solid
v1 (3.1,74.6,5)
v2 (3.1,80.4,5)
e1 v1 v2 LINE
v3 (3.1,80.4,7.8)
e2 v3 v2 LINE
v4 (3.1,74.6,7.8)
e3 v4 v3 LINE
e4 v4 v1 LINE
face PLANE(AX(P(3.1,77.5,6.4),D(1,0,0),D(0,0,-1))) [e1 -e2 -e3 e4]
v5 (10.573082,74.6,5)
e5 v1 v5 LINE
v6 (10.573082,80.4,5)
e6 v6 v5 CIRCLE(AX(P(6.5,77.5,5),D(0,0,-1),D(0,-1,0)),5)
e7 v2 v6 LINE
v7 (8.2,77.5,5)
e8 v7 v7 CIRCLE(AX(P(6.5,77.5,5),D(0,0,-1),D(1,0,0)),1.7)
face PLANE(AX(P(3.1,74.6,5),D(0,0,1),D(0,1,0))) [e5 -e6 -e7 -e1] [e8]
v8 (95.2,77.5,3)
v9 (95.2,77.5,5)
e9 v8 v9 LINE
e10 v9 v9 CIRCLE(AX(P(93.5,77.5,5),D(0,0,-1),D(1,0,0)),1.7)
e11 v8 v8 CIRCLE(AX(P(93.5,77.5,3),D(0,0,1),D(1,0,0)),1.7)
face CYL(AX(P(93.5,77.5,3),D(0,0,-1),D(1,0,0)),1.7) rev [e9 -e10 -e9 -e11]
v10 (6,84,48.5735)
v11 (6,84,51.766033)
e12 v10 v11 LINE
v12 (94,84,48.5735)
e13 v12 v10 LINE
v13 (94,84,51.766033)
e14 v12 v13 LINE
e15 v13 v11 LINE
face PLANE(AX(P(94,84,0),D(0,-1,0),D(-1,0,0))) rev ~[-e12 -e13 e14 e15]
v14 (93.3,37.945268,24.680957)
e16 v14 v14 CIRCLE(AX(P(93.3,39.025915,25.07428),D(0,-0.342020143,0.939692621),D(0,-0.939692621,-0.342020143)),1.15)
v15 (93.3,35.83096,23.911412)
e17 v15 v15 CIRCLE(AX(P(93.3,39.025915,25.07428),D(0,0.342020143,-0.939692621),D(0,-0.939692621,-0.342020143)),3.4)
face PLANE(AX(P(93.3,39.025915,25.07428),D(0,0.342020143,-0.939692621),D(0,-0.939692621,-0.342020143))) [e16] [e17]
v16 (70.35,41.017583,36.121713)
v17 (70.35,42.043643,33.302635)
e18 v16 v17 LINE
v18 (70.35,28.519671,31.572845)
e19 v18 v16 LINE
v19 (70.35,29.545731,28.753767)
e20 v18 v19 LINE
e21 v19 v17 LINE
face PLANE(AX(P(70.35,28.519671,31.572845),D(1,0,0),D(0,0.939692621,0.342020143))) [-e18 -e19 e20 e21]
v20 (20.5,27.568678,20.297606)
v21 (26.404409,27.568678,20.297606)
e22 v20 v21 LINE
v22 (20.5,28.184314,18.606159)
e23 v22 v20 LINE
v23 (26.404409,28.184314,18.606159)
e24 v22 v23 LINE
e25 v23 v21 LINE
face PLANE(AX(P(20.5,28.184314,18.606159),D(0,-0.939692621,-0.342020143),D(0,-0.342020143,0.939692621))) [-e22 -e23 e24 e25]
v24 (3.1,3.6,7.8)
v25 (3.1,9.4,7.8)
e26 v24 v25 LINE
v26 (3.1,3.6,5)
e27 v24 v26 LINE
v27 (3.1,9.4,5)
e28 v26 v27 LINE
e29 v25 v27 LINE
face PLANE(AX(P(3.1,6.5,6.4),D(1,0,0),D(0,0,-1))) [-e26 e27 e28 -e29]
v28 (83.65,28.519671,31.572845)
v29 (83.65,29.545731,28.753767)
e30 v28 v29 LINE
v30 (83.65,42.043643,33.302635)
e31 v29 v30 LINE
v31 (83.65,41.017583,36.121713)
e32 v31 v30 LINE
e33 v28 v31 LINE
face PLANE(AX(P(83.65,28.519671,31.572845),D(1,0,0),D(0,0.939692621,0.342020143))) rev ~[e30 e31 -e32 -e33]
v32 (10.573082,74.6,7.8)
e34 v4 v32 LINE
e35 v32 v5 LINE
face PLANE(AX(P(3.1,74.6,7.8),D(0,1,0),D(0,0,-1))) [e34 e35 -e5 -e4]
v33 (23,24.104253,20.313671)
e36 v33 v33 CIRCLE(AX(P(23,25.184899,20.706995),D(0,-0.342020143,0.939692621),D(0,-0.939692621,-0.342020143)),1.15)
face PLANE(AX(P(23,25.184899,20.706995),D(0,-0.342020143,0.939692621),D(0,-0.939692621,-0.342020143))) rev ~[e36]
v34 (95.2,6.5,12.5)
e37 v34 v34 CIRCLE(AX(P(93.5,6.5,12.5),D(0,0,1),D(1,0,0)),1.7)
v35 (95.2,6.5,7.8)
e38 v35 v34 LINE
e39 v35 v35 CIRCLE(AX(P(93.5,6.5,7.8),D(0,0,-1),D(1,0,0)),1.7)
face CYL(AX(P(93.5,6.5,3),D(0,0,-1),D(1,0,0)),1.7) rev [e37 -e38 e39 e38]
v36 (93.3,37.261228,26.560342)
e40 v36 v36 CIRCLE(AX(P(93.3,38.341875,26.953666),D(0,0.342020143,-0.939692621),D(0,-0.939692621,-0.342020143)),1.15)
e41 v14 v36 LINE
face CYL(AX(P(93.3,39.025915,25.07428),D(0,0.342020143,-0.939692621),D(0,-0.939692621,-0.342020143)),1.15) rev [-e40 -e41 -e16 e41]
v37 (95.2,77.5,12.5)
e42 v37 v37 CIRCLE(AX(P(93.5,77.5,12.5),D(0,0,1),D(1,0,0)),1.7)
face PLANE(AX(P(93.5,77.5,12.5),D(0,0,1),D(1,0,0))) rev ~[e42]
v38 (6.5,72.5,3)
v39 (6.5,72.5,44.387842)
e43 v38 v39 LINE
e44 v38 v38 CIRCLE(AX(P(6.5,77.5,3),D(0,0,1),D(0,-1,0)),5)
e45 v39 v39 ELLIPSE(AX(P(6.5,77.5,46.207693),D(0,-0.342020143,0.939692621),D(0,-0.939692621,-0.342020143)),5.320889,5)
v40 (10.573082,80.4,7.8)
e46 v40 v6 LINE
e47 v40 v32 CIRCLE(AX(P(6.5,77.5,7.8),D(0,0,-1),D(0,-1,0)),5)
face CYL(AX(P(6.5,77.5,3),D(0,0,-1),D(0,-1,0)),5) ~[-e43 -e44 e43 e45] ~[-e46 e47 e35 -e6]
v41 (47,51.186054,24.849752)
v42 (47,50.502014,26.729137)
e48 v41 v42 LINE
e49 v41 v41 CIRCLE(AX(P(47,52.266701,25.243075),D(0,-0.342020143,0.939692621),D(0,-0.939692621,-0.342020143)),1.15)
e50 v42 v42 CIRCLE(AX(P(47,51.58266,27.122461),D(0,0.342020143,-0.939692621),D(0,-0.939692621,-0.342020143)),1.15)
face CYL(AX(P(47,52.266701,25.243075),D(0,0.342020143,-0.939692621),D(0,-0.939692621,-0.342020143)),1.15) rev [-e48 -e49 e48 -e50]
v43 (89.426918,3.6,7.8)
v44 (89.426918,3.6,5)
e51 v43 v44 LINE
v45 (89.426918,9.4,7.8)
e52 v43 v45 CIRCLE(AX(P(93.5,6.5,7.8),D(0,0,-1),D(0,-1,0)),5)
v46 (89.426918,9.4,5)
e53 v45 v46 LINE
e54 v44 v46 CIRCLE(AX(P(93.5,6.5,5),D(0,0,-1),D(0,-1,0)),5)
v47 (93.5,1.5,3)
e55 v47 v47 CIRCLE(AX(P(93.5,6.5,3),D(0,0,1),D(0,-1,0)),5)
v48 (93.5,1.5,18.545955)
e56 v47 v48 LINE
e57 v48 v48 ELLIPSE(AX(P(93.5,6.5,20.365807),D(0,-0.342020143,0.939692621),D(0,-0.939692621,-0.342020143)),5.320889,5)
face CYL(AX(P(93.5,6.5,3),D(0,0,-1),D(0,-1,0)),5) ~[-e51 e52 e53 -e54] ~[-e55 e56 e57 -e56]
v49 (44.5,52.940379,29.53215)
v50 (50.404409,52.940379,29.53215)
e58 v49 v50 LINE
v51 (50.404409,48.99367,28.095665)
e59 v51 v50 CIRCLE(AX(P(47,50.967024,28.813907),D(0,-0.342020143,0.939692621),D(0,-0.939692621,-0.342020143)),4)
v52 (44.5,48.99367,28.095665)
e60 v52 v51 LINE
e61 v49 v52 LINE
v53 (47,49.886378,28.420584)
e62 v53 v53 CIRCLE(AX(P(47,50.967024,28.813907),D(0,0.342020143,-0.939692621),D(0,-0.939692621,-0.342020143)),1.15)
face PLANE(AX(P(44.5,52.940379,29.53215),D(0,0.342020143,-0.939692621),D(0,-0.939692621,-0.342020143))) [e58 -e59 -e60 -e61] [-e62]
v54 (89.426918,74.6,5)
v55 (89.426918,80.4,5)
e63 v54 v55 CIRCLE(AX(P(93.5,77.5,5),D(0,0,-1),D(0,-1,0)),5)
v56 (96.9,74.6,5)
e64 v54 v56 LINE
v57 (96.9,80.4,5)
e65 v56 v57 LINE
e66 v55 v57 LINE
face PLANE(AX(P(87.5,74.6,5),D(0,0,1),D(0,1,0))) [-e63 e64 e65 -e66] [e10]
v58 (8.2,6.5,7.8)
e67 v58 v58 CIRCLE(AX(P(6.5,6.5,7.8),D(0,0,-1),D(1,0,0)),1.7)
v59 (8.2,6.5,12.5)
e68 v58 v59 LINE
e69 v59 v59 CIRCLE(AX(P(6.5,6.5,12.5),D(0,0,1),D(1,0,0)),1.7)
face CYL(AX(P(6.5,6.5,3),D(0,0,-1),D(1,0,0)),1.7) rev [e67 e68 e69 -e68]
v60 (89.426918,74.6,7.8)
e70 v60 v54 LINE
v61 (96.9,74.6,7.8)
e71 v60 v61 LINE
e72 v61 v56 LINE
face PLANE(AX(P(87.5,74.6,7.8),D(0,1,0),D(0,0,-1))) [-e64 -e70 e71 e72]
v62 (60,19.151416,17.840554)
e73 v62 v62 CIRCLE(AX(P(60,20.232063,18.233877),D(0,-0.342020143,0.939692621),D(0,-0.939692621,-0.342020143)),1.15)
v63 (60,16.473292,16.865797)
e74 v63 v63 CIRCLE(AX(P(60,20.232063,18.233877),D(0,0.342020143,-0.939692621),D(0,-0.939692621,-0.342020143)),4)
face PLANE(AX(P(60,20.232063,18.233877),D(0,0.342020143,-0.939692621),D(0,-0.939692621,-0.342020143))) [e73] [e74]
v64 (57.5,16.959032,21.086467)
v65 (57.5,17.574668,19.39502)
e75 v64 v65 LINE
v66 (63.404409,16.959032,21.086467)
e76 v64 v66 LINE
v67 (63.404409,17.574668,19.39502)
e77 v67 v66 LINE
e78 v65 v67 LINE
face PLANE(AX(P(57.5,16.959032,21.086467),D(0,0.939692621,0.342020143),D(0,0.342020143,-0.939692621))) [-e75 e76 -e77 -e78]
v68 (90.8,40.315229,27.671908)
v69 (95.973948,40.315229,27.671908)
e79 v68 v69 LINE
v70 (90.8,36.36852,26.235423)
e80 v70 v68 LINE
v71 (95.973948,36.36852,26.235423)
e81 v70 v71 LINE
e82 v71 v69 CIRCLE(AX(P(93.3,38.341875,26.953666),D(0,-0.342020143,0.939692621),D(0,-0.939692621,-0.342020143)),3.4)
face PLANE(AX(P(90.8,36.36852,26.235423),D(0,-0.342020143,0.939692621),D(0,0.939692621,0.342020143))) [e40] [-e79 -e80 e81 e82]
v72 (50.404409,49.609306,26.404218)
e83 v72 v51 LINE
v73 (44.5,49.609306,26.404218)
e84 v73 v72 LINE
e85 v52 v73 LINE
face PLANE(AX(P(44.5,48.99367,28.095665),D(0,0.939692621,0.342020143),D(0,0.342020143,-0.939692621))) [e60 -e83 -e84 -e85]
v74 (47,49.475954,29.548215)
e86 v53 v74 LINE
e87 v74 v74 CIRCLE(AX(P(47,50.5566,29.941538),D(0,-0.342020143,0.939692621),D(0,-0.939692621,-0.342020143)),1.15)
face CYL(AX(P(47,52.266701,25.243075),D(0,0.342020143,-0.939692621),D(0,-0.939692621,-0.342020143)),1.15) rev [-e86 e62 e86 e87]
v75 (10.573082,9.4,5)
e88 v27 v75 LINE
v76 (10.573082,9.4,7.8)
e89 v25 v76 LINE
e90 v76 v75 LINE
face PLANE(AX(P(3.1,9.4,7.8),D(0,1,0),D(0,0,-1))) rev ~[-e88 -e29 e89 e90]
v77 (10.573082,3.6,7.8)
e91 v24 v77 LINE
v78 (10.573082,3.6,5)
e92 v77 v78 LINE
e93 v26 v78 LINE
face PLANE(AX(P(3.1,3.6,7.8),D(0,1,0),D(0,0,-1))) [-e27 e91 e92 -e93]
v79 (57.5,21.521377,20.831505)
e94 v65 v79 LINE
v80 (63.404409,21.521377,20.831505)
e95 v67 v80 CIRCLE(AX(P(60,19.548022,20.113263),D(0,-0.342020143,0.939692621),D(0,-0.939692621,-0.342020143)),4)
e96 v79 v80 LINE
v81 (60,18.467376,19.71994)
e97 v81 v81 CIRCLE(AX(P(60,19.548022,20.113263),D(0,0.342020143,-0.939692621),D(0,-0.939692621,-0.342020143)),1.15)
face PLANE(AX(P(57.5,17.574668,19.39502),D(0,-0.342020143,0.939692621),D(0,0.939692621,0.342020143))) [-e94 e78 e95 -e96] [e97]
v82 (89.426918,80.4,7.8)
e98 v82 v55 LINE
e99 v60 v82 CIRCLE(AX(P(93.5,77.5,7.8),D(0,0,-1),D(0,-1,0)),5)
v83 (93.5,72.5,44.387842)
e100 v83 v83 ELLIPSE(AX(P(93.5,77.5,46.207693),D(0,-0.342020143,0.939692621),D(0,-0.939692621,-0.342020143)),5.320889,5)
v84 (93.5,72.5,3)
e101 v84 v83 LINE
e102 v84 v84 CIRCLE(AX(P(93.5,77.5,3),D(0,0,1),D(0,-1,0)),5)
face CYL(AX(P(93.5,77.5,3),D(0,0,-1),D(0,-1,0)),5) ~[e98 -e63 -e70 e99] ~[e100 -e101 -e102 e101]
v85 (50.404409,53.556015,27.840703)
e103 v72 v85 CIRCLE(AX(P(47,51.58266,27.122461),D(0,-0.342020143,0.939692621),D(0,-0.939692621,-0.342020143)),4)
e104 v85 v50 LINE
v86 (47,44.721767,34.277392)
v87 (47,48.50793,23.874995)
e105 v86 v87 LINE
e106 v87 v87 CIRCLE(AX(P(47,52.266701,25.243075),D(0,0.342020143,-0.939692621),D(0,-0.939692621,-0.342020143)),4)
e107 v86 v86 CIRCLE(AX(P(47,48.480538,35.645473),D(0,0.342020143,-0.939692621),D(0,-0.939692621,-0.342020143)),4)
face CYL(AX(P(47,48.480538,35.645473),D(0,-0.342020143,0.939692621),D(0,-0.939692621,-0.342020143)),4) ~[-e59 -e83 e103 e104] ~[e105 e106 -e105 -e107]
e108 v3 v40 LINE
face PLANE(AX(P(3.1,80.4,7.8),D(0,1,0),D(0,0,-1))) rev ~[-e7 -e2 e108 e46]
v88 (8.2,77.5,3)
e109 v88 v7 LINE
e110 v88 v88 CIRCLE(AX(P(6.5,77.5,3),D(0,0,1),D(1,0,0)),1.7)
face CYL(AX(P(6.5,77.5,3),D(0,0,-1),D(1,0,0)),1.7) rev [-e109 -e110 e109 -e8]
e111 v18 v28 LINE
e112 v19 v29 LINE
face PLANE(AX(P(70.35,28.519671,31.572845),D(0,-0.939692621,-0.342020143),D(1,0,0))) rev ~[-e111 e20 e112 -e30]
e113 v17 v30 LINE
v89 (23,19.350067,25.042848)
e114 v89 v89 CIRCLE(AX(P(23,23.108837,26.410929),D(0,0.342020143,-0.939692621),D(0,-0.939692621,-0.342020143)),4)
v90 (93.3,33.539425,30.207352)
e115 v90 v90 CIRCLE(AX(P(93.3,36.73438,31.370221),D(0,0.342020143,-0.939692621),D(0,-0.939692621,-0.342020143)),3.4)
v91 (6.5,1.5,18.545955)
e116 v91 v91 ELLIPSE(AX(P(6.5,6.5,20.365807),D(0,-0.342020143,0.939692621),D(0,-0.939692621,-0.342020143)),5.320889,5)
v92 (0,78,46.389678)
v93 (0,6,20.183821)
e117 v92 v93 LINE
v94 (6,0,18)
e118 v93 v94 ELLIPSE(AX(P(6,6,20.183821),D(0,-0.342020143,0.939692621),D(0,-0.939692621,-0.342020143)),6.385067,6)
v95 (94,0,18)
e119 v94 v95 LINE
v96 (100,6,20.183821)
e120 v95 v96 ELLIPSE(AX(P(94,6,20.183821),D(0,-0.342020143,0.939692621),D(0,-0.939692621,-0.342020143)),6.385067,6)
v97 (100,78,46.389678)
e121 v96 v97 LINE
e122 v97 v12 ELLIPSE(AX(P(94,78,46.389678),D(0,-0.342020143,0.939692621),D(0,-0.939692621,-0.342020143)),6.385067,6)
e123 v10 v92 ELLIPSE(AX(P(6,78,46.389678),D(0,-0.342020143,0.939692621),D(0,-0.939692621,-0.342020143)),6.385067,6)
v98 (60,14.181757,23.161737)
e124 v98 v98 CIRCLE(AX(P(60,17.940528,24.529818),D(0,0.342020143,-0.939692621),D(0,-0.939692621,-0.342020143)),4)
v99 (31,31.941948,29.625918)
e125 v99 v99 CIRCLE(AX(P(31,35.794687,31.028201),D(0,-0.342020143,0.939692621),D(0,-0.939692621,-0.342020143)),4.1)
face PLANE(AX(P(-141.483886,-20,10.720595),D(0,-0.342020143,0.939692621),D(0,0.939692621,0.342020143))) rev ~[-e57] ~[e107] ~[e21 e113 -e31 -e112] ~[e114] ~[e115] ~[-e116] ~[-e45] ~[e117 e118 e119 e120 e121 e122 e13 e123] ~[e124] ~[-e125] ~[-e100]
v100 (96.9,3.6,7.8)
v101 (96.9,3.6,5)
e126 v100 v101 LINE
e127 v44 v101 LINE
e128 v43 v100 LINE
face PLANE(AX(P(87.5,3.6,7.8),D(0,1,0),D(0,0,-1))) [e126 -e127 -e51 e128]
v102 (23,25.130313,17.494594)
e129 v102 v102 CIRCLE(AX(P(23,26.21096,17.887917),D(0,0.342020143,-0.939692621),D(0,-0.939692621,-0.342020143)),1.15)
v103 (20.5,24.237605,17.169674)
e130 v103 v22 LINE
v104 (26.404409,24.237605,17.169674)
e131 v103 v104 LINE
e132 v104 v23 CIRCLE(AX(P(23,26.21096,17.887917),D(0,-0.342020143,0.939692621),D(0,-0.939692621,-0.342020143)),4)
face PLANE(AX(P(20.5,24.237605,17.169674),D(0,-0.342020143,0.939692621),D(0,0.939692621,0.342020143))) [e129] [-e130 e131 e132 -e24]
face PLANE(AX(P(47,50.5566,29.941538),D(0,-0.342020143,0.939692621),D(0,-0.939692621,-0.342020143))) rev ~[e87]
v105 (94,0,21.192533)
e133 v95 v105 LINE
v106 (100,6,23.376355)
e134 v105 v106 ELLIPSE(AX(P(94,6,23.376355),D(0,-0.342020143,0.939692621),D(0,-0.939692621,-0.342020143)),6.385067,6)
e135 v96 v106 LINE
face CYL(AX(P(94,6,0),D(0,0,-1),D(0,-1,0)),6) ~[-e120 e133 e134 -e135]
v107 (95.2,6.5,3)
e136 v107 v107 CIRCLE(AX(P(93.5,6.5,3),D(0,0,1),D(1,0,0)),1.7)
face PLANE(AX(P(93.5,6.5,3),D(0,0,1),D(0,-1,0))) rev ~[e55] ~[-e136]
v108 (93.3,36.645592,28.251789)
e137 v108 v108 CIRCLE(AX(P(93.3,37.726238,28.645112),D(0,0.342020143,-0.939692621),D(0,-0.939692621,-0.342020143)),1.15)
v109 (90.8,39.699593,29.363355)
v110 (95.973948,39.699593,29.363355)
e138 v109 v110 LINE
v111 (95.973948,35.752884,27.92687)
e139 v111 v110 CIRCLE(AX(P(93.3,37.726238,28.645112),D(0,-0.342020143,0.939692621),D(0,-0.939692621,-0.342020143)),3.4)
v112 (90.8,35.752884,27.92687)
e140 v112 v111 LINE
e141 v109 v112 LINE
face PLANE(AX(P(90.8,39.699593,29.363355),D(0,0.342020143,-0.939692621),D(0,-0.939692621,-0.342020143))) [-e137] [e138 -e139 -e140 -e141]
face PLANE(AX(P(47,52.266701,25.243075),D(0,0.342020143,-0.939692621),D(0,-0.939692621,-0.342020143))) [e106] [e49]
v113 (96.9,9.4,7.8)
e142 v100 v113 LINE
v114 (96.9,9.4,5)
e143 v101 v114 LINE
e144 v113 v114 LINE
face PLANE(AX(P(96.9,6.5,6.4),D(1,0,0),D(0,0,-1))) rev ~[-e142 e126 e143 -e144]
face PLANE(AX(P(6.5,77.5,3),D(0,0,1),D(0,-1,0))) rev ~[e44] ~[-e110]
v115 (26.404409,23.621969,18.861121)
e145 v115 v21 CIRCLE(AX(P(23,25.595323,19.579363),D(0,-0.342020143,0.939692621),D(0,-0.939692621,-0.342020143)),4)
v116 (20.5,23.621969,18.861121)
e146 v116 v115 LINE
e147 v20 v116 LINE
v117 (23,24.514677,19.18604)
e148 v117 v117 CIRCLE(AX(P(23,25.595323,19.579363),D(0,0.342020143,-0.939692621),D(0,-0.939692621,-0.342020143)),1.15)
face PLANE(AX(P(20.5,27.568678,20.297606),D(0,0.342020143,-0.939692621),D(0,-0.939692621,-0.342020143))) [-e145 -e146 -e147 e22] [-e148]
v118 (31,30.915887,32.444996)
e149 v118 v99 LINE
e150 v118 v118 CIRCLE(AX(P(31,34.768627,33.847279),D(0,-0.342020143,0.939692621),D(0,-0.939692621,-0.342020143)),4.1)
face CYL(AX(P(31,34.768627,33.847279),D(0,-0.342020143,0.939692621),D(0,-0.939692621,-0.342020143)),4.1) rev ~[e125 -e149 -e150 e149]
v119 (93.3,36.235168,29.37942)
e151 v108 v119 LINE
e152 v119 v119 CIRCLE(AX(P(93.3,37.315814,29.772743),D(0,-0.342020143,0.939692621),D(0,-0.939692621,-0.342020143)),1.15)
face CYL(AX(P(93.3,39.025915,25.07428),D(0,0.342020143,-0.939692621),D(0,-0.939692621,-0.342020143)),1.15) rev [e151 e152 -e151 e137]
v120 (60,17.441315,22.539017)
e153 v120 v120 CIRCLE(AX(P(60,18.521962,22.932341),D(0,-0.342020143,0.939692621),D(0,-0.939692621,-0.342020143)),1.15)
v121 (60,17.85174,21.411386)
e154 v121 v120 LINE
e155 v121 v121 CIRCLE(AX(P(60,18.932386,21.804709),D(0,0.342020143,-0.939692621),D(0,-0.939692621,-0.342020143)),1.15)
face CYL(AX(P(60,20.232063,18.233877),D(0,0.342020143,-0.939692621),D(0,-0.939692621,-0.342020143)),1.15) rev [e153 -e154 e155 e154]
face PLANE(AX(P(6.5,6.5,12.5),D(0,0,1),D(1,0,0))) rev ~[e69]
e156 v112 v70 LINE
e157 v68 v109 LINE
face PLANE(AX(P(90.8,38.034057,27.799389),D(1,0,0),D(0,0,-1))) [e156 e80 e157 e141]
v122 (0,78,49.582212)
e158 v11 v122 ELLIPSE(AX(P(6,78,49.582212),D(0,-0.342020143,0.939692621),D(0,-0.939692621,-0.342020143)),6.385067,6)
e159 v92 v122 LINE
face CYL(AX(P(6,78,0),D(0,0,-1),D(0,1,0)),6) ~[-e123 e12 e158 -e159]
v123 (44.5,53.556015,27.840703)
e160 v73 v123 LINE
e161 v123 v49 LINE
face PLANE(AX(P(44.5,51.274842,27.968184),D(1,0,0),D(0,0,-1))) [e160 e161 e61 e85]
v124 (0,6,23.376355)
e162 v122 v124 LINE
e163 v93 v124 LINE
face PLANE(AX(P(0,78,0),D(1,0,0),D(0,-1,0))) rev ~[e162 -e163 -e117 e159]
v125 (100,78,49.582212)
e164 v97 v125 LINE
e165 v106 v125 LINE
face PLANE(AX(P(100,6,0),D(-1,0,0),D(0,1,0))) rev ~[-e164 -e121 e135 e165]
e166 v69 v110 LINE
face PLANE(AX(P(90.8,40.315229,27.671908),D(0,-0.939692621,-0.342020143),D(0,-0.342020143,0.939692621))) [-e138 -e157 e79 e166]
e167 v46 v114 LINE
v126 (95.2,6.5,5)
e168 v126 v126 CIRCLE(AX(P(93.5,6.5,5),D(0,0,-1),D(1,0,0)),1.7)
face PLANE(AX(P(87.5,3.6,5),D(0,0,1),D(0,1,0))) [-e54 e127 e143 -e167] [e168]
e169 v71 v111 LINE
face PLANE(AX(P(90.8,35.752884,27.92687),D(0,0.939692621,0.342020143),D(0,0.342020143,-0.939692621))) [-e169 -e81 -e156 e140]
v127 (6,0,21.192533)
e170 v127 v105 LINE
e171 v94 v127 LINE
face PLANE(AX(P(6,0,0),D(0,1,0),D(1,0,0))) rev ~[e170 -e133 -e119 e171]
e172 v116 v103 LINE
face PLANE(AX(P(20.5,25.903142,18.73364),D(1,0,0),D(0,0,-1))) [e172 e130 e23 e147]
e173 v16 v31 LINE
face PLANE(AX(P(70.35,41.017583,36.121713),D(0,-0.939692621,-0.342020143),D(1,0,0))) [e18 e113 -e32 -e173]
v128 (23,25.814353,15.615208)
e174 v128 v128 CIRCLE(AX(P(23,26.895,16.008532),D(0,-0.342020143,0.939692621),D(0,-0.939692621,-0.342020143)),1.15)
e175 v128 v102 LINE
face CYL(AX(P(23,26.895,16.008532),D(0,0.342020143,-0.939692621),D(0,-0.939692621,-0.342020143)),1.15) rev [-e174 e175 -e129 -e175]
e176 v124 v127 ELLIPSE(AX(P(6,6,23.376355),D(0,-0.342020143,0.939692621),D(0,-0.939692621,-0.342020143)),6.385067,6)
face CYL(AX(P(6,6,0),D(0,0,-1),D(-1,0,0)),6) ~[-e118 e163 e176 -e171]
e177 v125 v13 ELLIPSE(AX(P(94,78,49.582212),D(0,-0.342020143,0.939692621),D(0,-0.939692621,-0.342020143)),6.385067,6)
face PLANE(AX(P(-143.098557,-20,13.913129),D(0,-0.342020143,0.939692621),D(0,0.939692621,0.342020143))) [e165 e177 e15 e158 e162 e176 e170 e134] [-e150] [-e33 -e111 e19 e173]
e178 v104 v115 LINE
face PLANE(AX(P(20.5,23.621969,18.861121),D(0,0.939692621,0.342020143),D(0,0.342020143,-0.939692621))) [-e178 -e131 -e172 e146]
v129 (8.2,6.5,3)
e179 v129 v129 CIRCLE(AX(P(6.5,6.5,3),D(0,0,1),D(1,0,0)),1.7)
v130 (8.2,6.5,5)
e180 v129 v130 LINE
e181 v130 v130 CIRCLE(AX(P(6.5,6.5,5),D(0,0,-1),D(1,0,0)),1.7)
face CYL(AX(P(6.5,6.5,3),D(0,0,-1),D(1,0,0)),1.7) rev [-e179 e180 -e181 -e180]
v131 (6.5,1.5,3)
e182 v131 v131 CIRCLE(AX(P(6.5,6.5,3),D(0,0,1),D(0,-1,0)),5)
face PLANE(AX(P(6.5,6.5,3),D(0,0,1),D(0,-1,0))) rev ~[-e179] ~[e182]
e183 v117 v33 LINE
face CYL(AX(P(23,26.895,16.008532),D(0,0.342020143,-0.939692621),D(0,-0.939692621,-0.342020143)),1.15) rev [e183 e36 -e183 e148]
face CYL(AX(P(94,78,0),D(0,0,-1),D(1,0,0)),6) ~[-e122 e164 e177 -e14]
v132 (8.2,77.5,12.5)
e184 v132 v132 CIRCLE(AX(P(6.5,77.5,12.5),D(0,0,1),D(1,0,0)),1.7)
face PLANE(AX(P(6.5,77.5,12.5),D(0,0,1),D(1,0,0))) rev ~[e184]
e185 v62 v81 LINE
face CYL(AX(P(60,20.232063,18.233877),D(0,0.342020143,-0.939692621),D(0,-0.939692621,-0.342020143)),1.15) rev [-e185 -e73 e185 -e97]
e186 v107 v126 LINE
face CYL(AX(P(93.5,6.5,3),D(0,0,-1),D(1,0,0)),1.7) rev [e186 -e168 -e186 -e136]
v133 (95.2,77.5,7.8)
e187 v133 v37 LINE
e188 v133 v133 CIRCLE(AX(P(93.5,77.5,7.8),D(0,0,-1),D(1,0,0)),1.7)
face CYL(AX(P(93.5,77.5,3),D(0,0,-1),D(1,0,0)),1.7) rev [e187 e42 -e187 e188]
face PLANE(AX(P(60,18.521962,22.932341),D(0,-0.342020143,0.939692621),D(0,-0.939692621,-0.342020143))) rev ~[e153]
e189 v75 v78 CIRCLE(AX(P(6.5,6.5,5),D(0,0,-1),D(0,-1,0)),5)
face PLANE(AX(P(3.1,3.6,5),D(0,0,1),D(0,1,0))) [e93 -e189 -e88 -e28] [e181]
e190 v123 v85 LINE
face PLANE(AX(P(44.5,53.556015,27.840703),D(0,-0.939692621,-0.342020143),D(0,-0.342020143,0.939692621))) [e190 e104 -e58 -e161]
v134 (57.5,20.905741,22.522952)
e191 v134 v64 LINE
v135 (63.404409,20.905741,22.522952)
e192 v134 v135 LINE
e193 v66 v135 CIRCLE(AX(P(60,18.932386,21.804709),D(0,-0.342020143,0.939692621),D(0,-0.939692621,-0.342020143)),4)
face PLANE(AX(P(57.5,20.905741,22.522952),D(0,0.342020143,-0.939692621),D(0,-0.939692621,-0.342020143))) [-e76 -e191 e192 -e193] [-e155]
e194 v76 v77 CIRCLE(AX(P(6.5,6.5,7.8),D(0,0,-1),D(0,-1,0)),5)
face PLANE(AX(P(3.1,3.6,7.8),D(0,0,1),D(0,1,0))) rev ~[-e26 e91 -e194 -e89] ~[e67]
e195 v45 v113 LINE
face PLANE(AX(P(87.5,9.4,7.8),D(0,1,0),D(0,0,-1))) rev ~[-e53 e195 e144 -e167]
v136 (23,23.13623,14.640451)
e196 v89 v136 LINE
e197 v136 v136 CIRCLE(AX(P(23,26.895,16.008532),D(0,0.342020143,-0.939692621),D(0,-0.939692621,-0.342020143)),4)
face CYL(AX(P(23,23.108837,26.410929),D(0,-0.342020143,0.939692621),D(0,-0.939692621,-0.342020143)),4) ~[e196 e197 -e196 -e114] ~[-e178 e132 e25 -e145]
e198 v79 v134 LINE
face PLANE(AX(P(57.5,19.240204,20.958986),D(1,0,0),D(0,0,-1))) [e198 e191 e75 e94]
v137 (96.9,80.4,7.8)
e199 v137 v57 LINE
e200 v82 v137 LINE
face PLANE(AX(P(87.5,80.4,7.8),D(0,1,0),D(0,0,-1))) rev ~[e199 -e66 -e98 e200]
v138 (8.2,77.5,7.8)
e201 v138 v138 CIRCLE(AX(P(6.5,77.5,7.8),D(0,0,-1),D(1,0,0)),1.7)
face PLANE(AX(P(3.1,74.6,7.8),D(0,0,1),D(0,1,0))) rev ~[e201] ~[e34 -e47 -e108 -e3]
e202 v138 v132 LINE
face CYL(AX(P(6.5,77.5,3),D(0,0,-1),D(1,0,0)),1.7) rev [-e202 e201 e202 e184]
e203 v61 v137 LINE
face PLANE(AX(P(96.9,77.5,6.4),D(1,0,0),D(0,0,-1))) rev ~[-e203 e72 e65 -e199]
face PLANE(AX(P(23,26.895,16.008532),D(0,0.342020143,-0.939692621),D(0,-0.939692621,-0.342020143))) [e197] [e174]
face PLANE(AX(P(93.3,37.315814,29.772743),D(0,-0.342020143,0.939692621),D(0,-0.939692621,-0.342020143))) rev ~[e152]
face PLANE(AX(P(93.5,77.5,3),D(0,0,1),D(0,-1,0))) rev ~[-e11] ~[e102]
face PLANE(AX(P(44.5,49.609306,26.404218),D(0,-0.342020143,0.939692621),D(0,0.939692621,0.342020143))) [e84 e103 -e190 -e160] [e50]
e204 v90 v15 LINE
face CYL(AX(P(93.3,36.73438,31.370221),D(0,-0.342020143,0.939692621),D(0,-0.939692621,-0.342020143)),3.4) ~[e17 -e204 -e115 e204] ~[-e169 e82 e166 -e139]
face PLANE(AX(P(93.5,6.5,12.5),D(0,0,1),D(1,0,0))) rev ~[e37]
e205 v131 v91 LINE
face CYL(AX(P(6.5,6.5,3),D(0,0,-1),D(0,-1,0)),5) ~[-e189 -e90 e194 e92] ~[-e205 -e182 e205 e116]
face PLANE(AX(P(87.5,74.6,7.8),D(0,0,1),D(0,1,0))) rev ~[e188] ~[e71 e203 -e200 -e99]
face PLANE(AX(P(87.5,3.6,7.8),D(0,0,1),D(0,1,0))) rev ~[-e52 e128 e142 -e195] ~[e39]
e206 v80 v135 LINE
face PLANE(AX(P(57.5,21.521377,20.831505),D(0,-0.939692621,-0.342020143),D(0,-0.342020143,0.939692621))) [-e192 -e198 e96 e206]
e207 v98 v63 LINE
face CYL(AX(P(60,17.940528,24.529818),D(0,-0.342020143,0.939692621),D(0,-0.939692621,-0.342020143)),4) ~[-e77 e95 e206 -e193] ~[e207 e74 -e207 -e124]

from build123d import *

# Parameters (mm, degrees)
LID_BLANK_DEPTH                 = 56
OUTER_PANEL_20DEG_DEPTH         = 143.098557347
OUTER_PANEL_20DEG_DEPTH_BACK    = 143.098557347
PANEL_3MM_DEPTH                 = 141.483885809
PANEL_3MM_DEPTH_BACK            = 141.483885809
HIDDEN_CASE_POST_0_START        = 3
SKETCH_4_R                      = 5
HIDDEN_CASE_POST_0_DEPTH        = 22.878191011
HIDDEN_CASE_POST_1_START        = 3
SKETCH_5_R                      = 5
HIDDEN_CASE_POST_1_DEPTH        = 22.878191011
HIDDEN_CASE_POST_2_START        = 3
SKETCH_6_R                      = 5
HIDDEN_CASE_POST_2_DEPTH        = 48.720077644
HIDDEN_CASE_POST_3_START        = 3
SKETCH_7_R                      = 5
HIDDEN_CASE_POST_3_DEPTH        = 48.720077644
FLUSH_OUTER_SURFACE_DEPTH       = 141.483885809
FLUSH_OUTER_SURFACE_DEPTH_BACK  = 141.483885809
BLIND_M3_0_START                = 3
SKETCH_9_R                      = 1.7
BLIND_M3_0_DEPTH                = 9.5
M3_SIDE_LOAD_NUT_0_START        = 3.1
SKETCH_10_W                     = 2.8
SKETCH_10_H                     = 5.8
M3_SIDE_LOAD_NUT_0_DEPTH        = 9.4
BLIND_M3_1_START                = 3
SKETCH_11_R                     = 1.7
BLIND_M3_1_DEPTH                = 9.5
M3_SIDE_LOAD_NUT_1_START        = 87.5
SKETCH_12_W                     = 2.8
SKETCH_12_H                     = 5.8
M3_SIDE_LOAD_NUT_1_DEPTH        = 9.4
BLIND_M3_2_START                = 3
SKETCH_13_R                     = 1.7
BLIND_M3_2_DEPTH                = 9.5
M3_SIDE_LOAD_NUT_2_START        = 3.1
SKETCH_14_W                     = 2.8
SKETCH_14_H                     = 5.8
M3_SIDE_LOAD_NUT_2_DEPTH        = 9.4
BLIND_M3_3_START                = 3
SKETCH_15_R                     = 1.7
BLIND_M3_3_DEPTH                = 9.5
M3_SIDE_LOAD_NUT_3_START        = 87.5
SKETCH_16_W                     = 2.8
SKETCH_16_H                     = 5.8
M3_SIDE_LOAD_NUT_3_DEPTH        = 9.4
SKETCH_17_R                     = 4.1
SHAFT_D8P2_DEPTH                = 5
SKETCH_18_W                     = 13.3
SKETCH_18_H                     = 13.3
BUTTON_13P3_CLEARANCE_DEPTH     = 5
SKETCH_19_R                     = 4
ENCODER_FRONT_BLIND_POST_DEPTH  = 11.07
ENCODER_FRONT_BLIND_SCREW_START = -14.07
SKETCH_20_R                     = 1.15
ENCODER_FRONT_BLIND_SCREW_DEPTH = 5
ENCODER_FRONT_M2_SIDE_NUT_START = 20.5
ENCODER_FRONT_M2_SIDE_NUT_DEPTH = 7.5
SKETCH_22_R                     = 4
ENCODER_REAR_BLIND_POST_DEPTH   = 11.07
ENCODER_REAR_BLIND_SCREW_START  = -14.07
SKETCH_23_R                     = 1.15
ENCODER_REAR_BLIND_SCREW_DEPTH  = 5
ENCODER_REAR_M2_SIDE_NUT_START  = 44.5
ENCODER_REAR_M2_SIDE_NUT_DEPTH  = 7.5
SKETCH_25_R                     = 4
BUTTON_LEFT_BLIND_POST_DEPTH    = 6.7
BUTTON_LEFT_BLIND_SCREW_START   = -9.7
SKETCH_26_R                     = 1.15
BUTTON_LEFT_BLIND_SCREW_DEPTH   = 5
BUTTON_LEFT_M2_SIDE_NUT_START   = 57.5
BUTTON_LEFT_M2_SIDE_NUT_DEPTH   = 7.5
SKETCH_28_R                     = 3.4
BUTTON_RIGHT_BLIND_POST_DEPTH   = 6.7
BUTTON_RIGHT_BLIND_SCREW_START  = -9.7
SKETCH_29_R                     = 1.15
BUTTON_RIGHT_BLIND_SCREW_DEPTH  = 5
BUTTON_RIGHT_M2_SIDE_NUT_START  = 90.8
BUTTON_RIGHT_M2_SIDE_NUT_DEPTH  = 7.5


with BuildPart() as part:
    # 草图1 → Lid_blank (new body)
    with BuildSketch(Plane.XY):
        with BuildLine():
            Line((6, 0), (94, 0))
            ThreePointArc((94, 0), (98.242640687, 1.757359313), (100, 6))
            Line((100, 6), (100, 78))
            ThreePointArc((100, 78), (98.242640687, 82.242640687), (94, 84))
            Line((94, 84), (6, 84))
            ThreePointArc((6, 84), (1.757359313, 82.242640687), (0, 78))
            Line((0, 78), (0, 6))
            ThreePointArc((0, 6), (1.757359313, 1.757359313), (6, 0))
        make_face()
    extrude(amount=LID_BLANK_DEPTH)

    # 草图2 → Outer_panel_20deg (cut, two sides: drawn at the far end of the back side and taken through both)
    with BuildSketch(Plane(origin=(0, 0, 0), x_dir=(0, 0, -1), z_dir=(1, 0, 0)).offset(-OUTER_PANEL_20DEG_DEPTH_BACK)):
        Polygon((-13.913128632, -20), (-61.229259087, 110), (-120, 110), (-120, -20), align=None)
    extrude(amount=OUTER_PANEL_20DEG_DEPTH + OUTER_PANEL_20DEG_DEPTH_BACK, mode=Mode.SUBTRACT)

    # 草图3 → Panel_3mm (cut, two sides: drawn at the far end of the back side and taken through both)
    with BuildSketch(Plane(origin=(0, 0, 0), x_dir=(0, 0, -1), z_dir=(1, 0, 0)).offset(-PANEL_3MM_DEPTH_BACK)):
        Polygon((-10.720595315, -20), (-58.036725769, 110), (30, 110), (30, -20), align=None)
    extrude(amount=PANEL_3MM_DEPTH + PANEL_3MM_DEPTH_BACK, mode=Mode.SUBTRACT)

    # 草图4 → Hidden_case_post_0 (add)
    with BuildSketch(Plane.XY.offset(HIDDEN_CASE_POST_0_START)):
        with Locations(Location((6.5, 6.5, 0), (0, 0, 270))):
            Circle(SKETCH_4_R)
    extrude(amount=HIDDEN_CASE_POST_0_DEPTH)

    # 草图5 → Hidden_case_post_1 (add)
    with BuildSketch(Plane.XY.offset(HIDDEN_CASE_POST_1_START)):
        with Locations(Location((93.5, 6.5, 0), (0, 0, 270))):
            Circle(SKETCH_5_R)
    extrude(amount=HIDDEN_CASE_POST_1_DEPTH)

    # 草图6 → Hidden_case_post_2 (add)
    with BuildSketch(Plane.XY.offset(HIDDEN_CASE_POST_2_START)):
        with Locations(Location((6.5, 77.5, 0), (0, 0, 270))):
            Circle(SKETCH_6_R)
    extrude(amount=HIDDEN_CASE_POST_2_DEPTH)

    # 草图7 → Hidden_case_post_3 (add)
    with BuildSketch(Plane.XY.offset(HIDDEN_CASE_POST_3_START)):
        with Locations(Location((93.5, 77.5, 0), (0, 0, 270))):
            Circle(SKETCH_7_R)
    extrude(amount=HIDDEN_CASE_POST_3_DEPTH)

    # 草图8 → Flush_outer_surface (cut, two sides: drawn at the far end of the back side and taken through both)
    with BuildSketch(Plane(origin=(0, 0, 0), x_dir=(0, 0, -1), z_dir=(1, 0, 0)).offset(-FLUSH_OUTER_SURFACE_DEPTH_BACK)):
        Polygon((-13.913128632, -20), (-61.229259087, 110), (-120, 110), (-120, -20), align=None)
    extrude(amount=FLUSH_OUTER_SURFACE_DEPTH + FLUSH_OUTER_SURFACE_DEPTH_BACK, mode=Mode.SUBTRACT)

    # 草图9 → Blind_M3_0 (cut)
    with BuildSketch(Plane.XY.offset(BLIND_M3_0_START)):
        with Locations((6.5, 6.5)):
            Circle(SKETCH_9_R)
    extrude(amount=BLIND_M3_0_DEPTH, mode=Mode.SUBTRACT)

    # 草图10 → M3_side_load_nut_0 (cut)
    with BuildSketch(Plane(origin=(0, 0, 0), x_dir=(0, 0, -1), z_dir=(1, 0, 0)).offset(M3_SIDE_LOAD_NUT_0_START)):
        with Locations((-6.4, 6.5)):
            Rectangle(SKETCH_10_W, SKETCH_10_H)
    extrude(amount=M3_SIDE_LOAD_NUT_0_DEPTH, mode=Mode.SUBTRACT)

    # 草图11 → Blind_M3_1 (cut)
    with BuildSketch(Plane.XY.offset(BLIND_M3_1_START)):
        with Locations((93.5, 6.5)):
            Circle(SKETCH_11_R)
    extrude(amount=BLIND_M3_1_DEPTH, mode=Mode.SUBTRACT)

    # 草图12 → M3_side_load_nut_1 (cut)
    with BuildSketch(Plane(origin=(0, 0, 0), x_dir=(0, 0, -1), z_dir=(1, 0, 0)).offset(M3_SIDE_LOAD_NUT_1_START)):
        with Locations((-6.4, 6.5)):
            Rectangle(SKETCH_12_W, SKETCH_12_H)
    extrude(amount=M3_SIDE_LOAD_NUT_1_DEPTH, mode=Mode.SUBTRACT)

    # 草图13 → Blind_M3_2 (cut)
    with BuildSketch(Plane.XY.offset(BLIND_M3_2_START)):
        with Locations((6.5, 77.5)):
            Circle(SKETCH_13_R)
    extrude(amount=BLIND_M3_2_DEPTH, mode=Mode.SUBTRACT)

    # 草图14 → M3_side_load_nut_2 (cut)
    with BuildSketch(Plane(origin=(0, 0, 0), x_dir=(0, 0, -1), z_dir=(1, 0, 0)).offset(M3_SIDE_LOAD_NUT_2_START)):
        with Locations((-6.4, 77.5)):
            Rectangle(SKETCH_14_W, SKETCH_14_H)
    extrude(amount=M3_SIDE_LOAD_NUT_2_DEPTH, mode=Mode.SUBTRACT)

    # 草图15 → Blind_M3_3 (cut)
    with BuildSketch(Plane.XY.offset(BLIND_M3_3_START)):
        with Locations((93.5, 77.5)):
            Circle(SKETCH_15_R)
    extrude(amount=BLIND_M3_3_DEPTH, mode=Mode.SUBTRACT)

    # 草图16 → M3_side_load_nut_3 (cut)
    with BuildSketch(Plane(origin=(0, 0, 0), x_dir=(0, 0, -1), z_dir=(1, 0, 0)).offset(M3_SIDE_LOAD_NUT_3_START)):
        with Locations((-6.4, 77.5)):
            Rectangle(SKETCH_16_W, SKETCH_16_H)
    extrude(amount=M3_SIDE_LOAD_NUT_3_DEPTH, mode=Mode.SUBTRACT)

    # 草图17 → Shaft_D8p2 (cut)
    with BuildSketch(Plane(origin=(0, -6.811148917, 18.71347785), x_dir=(1, 0, 0), z_dir=(0, -0.3420201433256689, 0.9396926207859084))):
        with Locations(Location((31, 44.248273283, 0), (0, 0, 270))):
            Circle(SKETCH_17_R)
    extrude(amount=-SHAFT_D8P2_DEPTH, mode=Mode.SUBTRACT)

    # 草图18 → Button_13p3_clearance (cut)
    with BuildSketch(Plane(origin=(0, -6.811148917, 18.71347785), x_dir=(1, 0, 0), z_dir=(0, -0.3420201433256689, 0.9396926207859084))):
        with Locations((77, 44.248273283)):
            Rectangle(SKETCH_18_W, SKETCH_18_H)
    extrude(amount=-BUTTON_13P3_CLEARANCE_DEPTH, mode=Mode.SUBTRACT)

    # 草图19 → Encoder_front_blind_post (add)
    with BuildSketch(Plane(origin=(0, -5.785088487, 15.894399988), x_dir=(-1, 0, 0), z_dir=(0, 0.34202014332566866, -0.9396926207859085))):
        with Locations(Location((-23, 30.748273283, 0), (0, 0, 270))):
            Circle(SKETCH_19_R)
    extrude(amount=ENCODER_FRONT_BLIND_POST_DEPTH)

    # 草图20 → Encoder_front_blind_screw (cut)
    with BuildSketch(Plane(origin=(0, -6.811148917, 18.71347785), x_dir=(1, 0, 0), z_dir=(0, -0.3420201433256689, 0.9396926207859084)).offset(ENCODER_FRONT_BLIND_SCREW_START)):
        with Locations(Location((23, 30.748273283, 0), (0, 0, 270))):
            Circle(SKETCH_20_R)
    extrude(amount=ENCODER_FRONT_BLIND_SCREW_DEPTH, mode=Mode.SUBTRACT)

    # 草图21 → Encoder_front_M2_side_nut (cut)
    with BuildSketch(Plane(origin=(0, 0, 0), x_dir=(0, 0, -1), z_dir=(1, 0, 0)).offset(ENCODER_FRONT_M2_SIDE_NUT_START)):
        Polygon((-17.169674452, 24.237605215), (-18.606159054, 28.184314222), (-20.297605771, 27.568677964), (-18.861121169, 23.621968957), align=None)
    extrude(amount=ENCODER_FRONT_M2_SIDE_NUT_DEPTH, mode=Mode.SUBTRACT)

    # 草图22 → Encoder_rear_blind_post (add)
    with BuildSketch(Plane(origin=(0, -5.785088487, 15.894399988), x_dir=(-1, 0, 0), z_dir=(0, 0.34202014332566866, -0.9396926207859085))):
        with Locations(Location((-47, 57.748273283, 0), (0, 0, 270))):
            Circle(SKETCH_22_R)
    extrude(amount=ENCODER_REAR_BLIND_POST_DEPTH)

    # 草图23 → Encoder_rear_blind_screw (cut)
    with BuildSketch(Plane(origin=(0, -6.811148917, 18.71347785), x_dir=(1, 0, 0), z_dir=(0, -0.3420201433256689, 0.9396926207859084)).offset(ENCODER_REAR_BLIND_SCREW_START)):
        with Locations(Location((47, 57.748273283, 0), (0, 0, 270))):
            Circle(SKETCH_23_R)
    extrude(amount=ENCODER_REAR_BLIND_SCREW_DEPTH, mode=Mode.SUBTRACT)

    # 草图24 → Encoder_rear_M2_side_nut (cut)
    with BuildSketch(Plane(origin=(0, 0, 0), x_dir=(0, 0, -1), z_dir=(1, 0, 0)).offset(ENCODER_REAR_M2_SIDE_NUT_START)):
        Polygon((-26.404218322, 49.609305976), (-27.840702923, 53.556014983), (-29.532149641, 52.940378725), (-28.095665039, 48.993669718), align=None)
    extrude(amount=ENCODER_REAR_M2_SIDE_NUT_DEPTH, mode=Mode.SUBTRACT)

    # 草图25 → Button_left_blind_post (add)
    with BuildSketch(Plane(origin=(0, -5.785088487, 15.894399988), x_dir=(-1, 0, 0), z_dir=(0, 0.34202014332566866, -0.9396926207859085))):
        with Locations(Location((-60, 25.248273283, 0), (0, 0, 270))):
            Circle(SKETCH_25_R)
    extrude(amount=BUTTON_LEFT_BLIND_POST_DEPTH)

    # 草图26 → Button_left_blind_screw (cut)
    with BuildSketch(Plane(origin=(0, -6.811148917, 18.71347785), x_dir=(1, 0, 0), z_dir=(0, -0.3420201433256689, 0.9396926207859084)).offset(BUTTON_LEFT_BLIND_SCREW_START)):
        with Locations(Location((60, 25.248273283, 0), (0, 0, 270))):
            Circle(SKETCH_26_R)
    extrude(amount=BUTTON_LEFT_BLIND_SCREW_DEPTH, mode=Mode.SUBTRACT)

    # 草图27 → Button_left_M2_side_nut (cut)
    with BuildSketch(Plane(origin=(0, 0, 0), x_dir=(0, 0, -1), z_dir=(1, 0, 0)).offset(BUTTON_LEFT_M2_SIDE_NUT_START)):
        Polygon((-19.395020416, 17.574667774), (-20.831505018, 21.521376781), (-22.522951736, 20.905740523), (-21.086467134, 16.959031516), align=None)
    extrude(amount=BUTTON_LEFT_M2_SIDE_NUT_DEPTH, mode=Mode.SUBTRACT)

    # 草图28 → Button_right_blind_post (add)
    with BuildSketch(Plane(origin=(0, -5.785088487, 15.894399988), x_dir=(-1, 0, 0), z_dir=(0, 0.34202014332566866, -0.9396926207859085))):
        with Locations(Location((-93.3, 45.248273283, 0), (0, 0, 270))):
            Circle(SKETCH_28_R)
    extrude(amount=BUTTON_RIGHT_BLIND_POST_DEPTH)

    # 草图29 → Button_right_blind_screw (cut)
    with BuildSketch(Plane(origin=(0, -6.811148917, 18.71347785), x_dir=(1, 0, 0), z_dir=(0, -0.3420201433256689, 0.9396926207859084)).offset(BUTTON_RIGHT_BLIND_SCREW_START)):
        with Locations(Location((93.3, 45.248273283, 0), (0, 0, 270))):
            Circle(SKETCH_29_R)
    extrude(amount=BUTTON_RIGHT_BLIND_SCREW_DEPTH, mode=Mode.SUBTRACT)

    # 草图30 → Button_right_M2_side_nut (cut)
    with BuildSketch(Plane(origin=(0, 0, 0), x_dir=(0, 0, -1), z_dir=(1, 0, 0)).offset(BUTTON_RIGHT_M2_SIDE_NUT_START)):
        Polygon((-26.235423283, 36.36852019), (-27.671907885, 40.315229197), (-29.363354602, 39.699592939), (-27.92687, 35.752883932), align=None)
    extrude(amount=BUTTON_RIGHT_M2_SIDE_NUT_DEPTH, mode=Mode.SUBTRACT)


solid = part.part
